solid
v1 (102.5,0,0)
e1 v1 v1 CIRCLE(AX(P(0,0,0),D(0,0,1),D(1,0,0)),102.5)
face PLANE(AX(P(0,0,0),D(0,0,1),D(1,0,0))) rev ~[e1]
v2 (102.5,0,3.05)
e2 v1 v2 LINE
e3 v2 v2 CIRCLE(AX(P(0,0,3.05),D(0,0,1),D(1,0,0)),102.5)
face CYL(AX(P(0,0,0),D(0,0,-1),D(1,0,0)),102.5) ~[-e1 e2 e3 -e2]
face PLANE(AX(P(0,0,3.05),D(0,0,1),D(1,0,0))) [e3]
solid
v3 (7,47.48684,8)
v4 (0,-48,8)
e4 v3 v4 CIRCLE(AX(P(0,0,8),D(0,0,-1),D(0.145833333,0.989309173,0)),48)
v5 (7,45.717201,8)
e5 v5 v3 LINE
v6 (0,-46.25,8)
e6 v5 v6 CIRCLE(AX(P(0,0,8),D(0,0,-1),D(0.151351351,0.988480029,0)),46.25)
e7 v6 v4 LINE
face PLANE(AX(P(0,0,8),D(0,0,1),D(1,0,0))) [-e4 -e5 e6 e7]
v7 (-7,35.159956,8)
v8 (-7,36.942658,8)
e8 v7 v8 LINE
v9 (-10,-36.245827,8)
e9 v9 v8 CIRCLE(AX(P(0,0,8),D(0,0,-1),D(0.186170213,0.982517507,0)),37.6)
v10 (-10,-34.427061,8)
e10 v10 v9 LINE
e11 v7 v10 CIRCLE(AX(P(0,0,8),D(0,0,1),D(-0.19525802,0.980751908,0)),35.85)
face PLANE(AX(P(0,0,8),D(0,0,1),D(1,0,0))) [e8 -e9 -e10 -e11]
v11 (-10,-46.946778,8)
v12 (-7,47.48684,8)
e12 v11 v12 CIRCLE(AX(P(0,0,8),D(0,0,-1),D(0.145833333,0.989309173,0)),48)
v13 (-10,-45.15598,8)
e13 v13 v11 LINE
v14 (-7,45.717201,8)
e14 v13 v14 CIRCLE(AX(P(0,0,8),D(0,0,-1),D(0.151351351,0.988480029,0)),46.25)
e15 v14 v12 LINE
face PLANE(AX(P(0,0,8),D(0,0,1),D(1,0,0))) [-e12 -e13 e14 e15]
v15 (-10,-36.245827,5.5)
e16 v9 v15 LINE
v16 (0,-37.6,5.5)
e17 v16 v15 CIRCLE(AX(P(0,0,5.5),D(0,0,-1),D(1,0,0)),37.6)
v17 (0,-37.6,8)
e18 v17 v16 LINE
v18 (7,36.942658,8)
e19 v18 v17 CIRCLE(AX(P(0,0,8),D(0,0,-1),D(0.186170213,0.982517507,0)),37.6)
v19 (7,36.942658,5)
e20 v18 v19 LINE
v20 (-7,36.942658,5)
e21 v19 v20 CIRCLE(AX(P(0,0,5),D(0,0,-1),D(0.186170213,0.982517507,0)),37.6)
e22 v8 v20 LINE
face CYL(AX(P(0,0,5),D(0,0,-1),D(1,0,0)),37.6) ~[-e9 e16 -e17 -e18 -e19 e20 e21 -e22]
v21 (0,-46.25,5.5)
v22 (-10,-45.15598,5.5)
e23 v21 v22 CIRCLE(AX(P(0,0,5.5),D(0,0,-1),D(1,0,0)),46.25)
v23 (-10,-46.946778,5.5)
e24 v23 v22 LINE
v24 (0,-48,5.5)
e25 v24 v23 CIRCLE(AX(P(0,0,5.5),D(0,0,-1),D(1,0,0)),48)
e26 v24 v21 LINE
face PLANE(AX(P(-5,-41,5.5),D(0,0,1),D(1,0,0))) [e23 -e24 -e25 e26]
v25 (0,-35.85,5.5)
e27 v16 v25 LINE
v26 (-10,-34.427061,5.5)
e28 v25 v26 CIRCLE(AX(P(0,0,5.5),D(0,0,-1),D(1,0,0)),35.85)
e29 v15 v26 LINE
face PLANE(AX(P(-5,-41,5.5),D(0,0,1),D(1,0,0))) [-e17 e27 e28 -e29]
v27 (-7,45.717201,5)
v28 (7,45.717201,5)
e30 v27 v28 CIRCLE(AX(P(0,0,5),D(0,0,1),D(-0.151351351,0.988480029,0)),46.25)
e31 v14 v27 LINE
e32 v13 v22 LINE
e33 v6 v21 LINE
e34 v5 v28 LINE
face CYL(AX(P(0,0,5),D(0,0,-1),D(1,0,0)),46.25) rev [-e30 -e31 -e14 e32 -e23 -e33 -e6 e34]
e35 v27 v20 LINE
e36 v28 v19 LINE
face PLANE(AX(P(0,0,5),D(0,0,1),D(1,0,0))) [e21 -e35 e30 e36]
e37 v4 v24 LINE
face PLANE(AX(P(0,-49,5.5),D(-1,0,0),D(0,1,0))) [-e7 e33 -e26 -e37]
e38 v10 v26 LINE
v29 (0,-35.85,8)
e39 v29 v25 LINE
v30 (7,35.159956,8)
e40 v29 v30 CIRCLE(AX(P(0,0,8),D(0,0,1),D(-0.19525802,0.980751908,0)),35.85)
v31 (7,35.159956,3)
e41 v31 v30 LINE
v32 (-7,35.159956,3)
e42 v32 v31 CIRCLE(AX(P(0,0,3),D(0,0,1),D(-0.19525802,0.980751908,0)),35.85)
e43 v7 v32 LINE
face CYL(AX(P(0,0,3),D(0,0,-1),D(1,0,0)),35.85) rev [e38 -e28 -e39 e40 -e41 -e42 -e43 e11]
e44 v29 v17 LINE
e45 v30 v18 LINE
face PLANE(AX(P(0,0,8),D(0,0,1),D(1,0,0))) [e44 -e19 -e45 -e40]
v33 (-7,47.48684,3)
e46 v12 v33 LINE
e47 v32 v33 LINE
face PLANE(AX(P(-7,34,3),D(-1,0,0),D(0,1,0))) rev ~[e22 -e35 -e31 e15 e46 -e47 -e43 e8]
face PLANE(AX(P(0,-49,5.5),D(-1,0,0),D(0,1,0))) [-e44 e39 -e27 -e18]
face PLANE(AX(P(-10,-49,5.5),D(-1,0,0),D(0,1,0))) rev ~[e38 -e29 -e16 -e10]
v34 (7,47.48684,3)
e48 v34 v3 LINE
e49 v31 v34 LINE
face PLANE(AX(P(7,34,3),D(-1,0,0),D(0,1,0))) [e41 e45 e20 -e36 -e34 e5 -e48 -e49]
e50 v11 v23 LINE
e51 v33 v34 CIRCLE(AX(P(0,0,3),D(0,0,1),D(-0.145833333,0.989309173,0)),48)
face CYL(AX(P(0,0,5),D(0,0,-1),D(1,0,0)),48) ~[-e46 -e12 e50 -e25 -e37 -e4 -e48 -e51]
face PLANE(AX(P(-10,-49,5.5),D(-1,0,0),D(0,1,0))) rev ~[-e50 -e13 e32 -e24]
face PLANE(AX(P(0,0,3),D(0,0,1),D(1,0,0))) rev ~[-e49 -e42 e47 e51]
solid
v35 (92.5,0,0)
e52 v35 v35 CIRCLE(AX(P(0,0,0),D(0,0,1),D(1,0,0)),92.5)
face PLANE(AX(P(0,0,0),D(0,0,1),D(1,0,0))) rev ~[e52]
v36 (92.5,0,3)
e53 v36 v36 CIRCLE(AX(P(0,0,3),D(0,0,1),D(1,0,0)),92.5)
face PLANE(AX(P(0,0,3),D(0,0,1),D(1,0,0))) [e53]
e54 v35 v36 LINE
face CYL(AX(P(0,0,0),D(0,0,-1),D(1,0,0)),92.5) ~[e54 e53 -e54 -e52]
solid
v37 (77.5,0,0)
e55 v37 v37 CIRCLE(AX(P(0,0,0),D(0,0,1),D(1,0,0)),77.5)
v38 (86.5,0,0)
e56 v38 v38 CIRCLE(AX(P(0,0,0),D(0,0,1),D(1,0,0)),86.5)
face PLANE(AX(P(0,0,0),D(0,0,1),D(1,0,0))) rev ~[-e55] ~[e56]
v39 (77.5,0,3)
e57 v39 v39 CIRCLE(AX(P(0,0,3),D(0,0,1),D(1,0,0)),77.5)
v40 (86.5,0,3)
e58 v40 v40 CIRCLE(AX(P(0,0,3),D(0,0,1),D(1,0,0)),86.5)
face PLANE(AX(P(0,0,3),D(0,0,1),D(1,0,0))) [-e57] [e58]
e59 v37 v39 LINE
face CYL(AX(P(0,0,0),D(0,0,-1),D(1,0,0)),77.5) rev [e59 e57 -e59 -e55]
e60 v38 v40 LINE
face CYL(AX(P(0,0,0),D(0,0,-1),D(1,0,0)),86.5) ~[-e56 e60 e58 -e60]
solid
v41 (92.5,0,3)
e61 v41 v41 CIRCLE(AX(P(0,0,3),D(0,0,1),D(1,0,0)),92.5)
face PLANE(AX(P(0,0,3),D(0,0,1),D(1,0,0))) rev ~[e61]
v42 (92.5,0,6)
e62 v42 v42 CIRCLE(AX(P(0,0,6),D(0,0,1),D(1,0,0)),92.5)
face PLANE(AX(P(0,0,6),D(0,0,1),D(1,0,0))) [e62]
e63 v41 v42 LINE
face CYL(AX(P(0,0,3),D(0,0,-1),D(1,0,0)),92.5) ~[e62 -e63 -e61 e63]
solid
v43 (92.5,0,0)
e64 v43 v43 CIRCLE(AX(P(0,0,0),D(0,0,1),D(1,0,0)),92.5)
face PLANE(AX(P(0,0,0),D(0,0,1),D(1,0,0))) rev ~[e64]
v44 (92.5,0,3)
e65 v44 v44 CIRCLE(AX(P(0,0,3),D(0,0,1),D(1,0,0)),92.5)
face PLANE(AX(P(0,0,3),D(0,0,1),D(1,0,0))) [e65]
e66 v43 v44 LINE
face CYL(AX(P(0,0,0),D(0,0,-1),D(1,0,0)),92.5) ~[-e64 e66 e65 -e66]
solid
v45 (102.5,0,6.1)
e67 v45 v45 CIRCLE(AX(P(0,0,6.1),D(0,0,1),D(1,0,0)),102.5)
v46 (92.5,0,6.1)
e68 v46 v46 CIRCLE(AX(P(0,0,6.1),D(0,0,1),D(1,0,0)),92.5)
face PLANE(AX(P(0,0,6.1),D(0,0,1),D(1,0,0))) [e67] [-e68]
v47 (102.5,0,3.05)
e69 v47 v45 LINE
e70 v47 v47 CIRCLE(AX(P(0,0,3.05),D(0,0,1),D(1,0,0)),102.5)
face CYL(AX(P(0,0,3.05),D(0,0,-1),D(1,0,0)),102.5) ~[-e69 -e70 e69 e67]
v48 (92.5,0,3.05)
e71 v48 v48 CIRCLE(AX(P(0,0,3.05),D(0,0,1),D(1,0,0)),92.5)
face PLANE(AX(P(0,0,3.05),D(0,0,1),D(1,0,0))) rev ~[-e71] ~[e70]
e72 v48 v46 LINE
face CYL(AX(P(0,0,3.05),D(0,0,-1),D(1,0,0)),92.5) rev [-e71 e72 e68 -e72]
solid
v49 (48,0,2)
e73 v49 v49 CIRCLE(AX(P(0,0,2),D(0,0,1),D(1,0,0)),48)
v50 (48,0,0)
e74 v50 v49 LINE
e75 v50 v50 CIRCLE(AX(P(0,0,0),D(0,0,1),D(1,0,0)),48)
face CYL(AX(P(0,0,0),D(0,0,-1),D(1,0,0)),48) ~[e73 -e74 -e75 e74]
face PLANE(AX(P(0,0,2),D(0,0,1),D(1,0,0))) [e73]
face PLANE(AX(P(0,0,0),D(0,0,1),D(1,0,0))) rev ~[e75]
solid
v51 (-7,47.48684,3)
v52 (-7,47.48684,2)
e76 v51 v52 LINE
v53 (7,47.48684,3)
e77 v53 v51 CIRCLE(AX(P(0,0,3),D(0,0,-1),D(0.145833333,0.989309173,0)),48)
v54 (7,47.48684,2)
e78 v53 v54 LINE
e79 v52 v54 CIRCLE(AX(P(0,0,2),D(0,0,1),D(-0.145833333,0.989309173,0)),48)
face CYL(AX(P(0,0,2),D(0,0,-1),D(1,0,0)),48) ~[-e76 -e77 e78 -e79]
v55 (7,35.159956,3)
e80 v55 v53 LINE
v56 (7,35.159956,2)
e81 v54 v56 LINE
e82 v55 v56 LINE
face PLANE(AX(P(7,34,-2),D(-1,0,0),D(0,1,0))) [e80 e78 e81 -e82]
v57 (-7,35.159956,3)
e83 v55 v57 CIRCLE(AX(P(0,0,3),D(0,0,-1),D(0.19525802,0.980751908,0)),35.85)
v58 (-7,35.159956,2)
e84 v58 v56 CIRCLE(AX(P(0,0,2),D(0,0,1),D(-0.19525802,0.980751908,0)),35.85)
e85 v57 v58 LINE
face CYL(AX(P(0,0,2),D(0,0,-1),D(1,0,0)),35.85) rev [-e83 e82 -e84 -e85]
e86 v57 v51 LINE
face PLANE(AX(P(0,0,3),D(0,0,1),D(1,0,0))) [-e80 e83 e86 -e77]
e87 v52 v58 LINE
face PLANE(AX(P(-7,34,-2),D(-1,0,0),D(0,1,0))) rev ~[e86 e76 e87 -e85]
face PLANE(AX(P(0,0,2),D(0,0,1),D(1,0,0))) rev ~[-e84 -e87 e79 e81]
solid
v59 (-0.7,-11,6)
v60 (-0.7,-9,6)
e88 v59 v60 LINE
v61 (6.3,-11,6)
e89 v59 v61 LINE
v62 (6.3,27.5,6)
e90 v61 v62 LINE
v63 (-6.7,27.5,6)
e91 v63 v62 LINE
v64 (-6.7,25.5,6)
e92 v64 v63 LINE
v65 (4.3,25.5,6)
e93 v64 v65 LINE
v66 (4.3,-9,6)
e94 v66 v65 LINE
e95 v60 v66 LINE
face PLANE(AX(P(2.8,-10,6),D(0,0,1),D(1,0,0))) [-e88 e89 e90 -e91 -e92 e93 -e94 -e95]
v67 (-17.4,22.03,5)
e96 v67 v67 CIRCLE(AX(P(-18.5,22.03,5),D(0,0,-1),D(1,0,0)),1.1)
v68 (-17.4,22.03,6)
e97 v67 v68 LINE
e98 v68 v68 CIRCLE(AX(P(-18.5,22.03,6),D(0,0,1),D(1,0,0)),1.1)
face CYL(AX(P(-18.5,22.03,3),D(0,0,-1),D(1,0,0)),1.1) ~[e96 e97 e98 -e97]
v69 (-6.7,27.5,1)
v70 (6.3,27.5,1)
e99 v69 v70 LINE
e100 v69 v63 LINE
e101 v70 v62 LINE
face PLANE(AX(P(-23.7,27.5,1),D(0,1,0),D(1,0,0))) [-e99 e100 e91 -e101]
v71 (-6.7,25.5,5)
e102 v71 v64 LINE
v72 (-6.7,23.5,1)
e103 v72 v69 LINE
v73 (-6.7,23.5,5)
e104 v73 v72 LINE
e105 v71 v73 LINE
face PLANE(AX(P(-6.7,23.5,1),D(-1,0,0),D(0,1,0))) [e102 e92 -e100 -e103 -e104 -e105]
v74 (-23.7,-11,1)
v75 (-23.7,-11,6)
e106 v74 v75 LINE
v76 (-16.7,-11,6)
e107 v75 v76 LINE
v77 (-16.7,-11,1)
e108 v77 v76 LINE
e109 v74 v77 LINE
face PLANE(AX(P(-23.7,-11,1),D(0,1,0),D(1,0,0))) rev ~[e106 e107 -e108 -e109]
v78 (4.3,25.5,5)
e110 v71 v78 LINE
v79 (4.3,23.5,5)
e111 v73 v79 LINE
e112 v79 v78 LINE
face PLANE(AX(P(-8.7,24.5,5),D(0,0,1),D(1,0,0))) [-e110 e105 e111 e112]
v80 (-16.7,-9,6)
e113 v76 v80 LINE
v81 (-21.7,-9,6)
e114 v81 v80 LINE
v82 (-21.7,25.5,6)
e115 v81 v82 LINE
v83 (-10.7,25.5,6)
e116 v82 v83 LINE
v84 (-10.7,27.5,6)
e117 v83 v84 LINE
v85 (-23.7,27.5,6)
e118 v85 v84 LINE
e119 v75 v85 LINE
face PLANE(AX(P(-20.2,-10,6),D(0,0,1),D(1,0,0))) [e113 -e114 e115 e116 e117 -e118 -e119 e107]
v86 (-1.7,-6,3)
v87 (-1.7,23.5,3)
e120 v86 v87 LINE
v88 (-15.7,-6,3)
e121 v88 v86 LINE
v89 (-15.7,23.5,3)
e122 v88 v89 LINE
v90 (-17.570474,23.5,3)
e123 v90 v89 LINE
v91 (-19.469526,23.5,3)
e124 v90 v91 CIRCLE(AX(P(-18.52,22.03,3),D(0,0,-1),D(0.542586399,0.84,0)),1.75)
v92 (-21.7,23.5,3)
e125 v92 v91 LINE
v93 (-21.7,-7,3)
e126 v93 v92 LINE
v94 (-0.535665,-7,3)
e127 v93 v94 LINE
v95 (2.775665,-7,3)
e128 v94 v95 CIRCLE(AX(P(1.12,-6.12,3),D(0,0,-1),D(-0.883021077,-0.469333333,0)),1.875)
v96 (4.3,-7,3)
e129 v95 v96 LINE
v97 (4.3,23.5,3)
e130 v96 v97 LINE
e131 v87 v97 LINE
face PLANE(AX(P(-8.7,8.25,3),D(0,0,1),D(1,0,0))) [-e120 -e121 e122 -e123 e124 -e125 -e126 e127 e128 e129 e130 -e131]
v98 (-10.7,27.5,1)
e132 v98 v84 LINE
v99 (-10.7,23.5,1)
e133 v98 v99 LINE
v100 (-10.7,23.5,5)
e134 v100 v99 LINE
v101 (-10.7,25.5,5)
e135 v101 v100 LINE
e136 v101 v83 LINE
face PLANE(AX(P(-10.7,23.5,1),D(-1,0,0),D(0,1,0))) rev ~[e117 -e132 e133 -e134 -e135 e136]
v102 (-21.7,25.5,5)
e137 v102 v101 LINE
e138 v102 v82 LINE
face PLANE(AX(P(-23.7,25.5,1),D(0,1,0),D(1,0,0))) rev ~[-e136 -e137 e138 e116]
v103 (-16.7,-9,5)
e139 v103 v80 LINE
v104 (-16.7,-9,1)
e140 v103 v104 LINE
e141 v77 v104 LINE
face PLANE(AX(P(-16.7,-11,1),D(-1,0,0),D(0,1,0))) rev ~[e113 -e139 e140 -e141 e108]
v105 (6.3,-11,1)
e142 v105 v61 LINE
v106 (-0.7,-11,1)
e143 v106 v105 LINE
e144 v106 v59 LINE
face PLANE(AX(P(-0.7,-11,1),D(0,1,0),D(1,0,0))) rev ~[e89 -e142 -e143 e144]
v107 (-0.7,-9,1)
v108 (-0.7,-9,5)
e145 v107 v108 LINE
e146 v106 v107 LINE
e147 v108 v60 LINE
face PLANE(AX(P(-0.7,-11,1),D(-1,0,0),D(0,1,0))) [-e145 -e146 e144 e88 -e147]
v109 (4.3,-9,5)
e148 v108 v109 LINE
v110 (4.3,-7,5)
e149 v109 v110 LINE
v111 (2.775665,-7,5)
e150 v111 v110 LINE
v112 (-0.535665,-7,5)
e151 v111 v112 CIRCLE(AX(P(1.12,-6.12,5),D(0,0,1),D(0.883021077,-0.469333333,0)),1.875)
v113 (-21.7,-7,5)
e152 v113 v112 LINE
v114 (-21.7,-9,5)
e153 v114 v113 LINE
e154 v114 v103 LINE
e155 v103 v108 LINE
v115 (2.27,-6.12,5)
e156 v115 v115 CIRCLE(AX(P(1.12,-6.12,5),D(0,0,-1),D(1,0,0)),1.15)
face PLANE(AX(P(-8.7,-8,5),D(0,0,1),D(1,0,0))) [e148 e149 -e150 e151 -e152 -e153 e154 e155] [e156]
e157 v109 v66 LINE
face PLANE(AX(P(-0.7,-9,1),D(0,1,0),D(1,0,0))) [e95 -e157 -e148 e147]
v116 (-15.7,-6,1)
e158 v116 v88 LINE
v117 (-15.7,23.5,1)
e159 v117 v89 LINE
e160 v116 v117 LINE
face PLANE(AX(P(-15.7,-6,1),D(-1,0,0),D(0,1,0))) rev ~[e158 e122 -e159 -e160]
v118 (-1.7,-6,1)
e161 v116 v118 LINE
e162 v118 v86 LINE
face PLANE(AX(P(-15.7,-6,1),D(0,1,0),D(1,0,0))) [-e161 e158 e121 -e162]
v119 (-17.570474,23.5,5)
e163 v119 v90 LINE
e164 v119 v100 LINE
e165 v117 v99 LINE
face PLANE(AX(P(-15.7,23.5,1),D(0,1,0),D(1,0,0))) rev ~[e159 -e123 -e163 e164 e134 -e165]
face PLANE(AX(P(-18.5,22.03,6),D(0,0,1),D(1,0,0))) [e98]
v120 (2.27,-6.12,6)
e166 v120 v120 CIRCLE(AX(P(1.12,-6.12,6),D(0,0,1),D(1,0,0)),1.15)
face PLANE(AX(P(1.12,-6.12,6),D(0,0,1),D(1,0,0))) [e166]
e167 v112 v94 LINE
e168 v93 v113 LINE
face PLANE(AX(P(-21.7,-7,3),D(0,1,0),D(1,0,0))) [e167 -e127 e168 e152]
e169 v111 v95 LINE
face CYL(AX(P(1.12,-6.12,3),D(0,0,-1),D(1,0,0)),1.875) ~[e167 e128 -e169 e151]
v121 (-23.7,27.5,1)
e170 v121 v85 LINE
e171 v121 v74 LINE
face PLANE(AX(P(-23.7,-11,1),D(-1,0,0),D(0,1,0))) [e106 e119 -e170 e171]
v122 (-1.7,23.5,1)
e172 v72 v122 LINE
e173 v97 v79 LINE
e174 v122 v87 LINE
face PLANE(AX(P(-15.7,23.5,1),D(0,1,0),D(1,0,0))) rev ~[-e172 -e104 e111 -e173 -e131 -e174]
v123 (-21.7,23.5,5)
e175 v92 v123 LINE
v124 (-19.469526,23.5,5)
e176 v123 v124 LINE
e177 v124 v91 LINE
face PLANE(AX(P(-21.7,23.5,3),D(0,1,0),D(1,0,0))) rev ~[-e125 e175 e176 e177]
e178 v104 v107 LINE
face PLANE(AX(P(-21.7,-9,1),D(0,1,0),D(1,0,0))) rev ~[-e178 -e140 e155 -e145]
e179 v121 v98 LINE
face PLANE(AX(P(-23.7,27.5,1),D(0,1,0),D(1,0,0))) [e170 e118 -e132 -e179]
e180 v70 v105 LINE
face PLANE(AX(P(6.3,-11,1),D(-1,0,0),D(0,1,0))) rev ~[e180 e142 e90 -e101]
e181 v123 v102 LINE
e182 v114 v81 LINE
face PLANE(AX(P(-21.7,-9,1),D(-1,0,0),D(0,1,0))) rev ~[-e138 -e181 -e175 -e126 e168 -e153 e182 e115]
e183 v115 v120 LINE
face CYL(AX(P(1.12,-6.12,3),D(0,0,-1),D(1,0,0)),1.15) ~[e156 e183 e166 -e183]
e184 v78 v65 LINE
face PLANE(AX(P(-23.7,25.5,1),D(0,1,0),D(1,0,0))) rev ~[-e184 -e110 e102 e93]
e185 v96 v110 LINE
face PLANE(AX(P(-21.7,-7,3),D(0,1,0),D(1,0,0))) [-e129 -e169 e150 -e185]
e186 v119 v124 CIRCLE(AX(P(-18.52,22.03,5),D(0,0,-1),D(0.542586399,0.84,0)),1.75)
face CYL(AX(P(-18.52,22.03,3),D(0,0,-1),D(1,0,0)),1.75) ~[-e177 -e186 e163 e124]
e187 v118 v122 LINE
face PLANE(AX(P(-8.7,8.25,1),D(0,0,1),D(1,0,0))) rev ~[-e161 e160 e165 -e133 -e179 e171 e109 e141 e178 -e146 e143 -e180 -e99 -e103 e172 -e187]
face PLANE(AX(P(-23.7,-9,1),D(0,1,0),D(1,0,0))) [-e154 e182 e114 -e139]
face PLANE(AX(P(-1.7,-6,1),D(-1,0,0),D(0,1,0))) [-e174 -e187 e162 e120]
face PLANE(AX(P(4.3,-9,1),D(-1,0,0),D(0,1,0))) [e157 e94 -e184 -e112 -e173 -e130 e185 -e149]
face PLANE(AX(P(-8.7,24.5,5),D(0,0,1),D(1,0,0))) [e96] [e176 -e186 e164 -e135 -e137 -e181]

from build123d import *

# Parameters (mm, degrees)
CYLINDER_R        = 92.5
CYLINDER_DEPTH    = 3
CYLINDER002_R     = 92.5
CYLINDER002_DEPTH = 3.05
CYLINDER001_R     = 102.5
CYLINDER001_DEPTH = 3.05
CYLINDER003_R     = 102.5
CYLINDER003_DEPTH = 3.05
CYLINDER004_R     = 92.5
CYLINDER004_DEPTH = 3
CYLINDER005_R     = 92.5
CYLINDER005_DEPTH = 3
CYLINDER006_R     = 77.5
CYLINDER006_DEPTH = 3
CYLINDER007_R     = 86.5
CYLINDER007_DEPTH = 3
CYLINDER014_R     = 1.1
CYLINDER014_DEPTH = 3
CYLINDER015_R     = 1.15
CYLINDER015_DEPTH = 3
CYLINDER016_R     = 1.75
CYLINDER016_DEPTH = 2
CYLINDER017_R     = 1.875
CYLINDER017_DEPTH = 2
BOX004_W          = 26
BOX004_H          = 2
BOX004_DEPTH      = 2
BOX006_W          = 2
BOX006_H          = 34.5
BOX006_DEPTH      = 5
BOX007_W          = 2
BOX007_H          = 34.5
BOX007_DEPTH      = 5
BOX009_W          = 7
BOX009_H          = 2
BOX009_DEPTH      = 5
BOX010_W          = 7
BOX010_H          = 2
BOX010_DEPTH      = 5
BOX011_W          = 4
BOX011_H          = 4
BOX011_DEPTH      = 5
BOX005_W          = 26
BOX005_H          = 2
BOX005_DEPTH      = 2
BOX003_W          = 14
BOX003_H          = 29.5
BOX003_DEPTH      = 2
BOX002_W          = 26
BOX002_H          = 34.5
BOX002_DEPTH      = 2
BOX008_W          = 30
BOX008_H          = 2
BOX008_DEPTH      = 5
CYLINDER018_R     = 48
CYLINDER018_DEPTH = 2
BOX001_W          = 14
BOX001_H          = 15
BOX001_DEPTH      = 5
CYLINDER019_R     = 35.85
CYLINDER019_DEPTH = 1
CYLINDER020_R     = 48
CYLINDER020_DEPTH = 1
BOX012_W          = 10
BOX012_H          = 16
BOX012_DEPTH      = 3
BOX_W             = 14
BOX_H             = 15
BOX_DEPTH         = 5
CYLINDER009_R     = 37.6
CYLINDER009_DEPTH = 3
CYLINDER008_R     = 46.25
CYLINDER008_DEPTH = 3
CYLINDER011_R     = 35.85
CYLINDER011_DEPTH = 3
CYLINDER010_R     = 48
CYLINDER010_DEPTH = 3
CYLINDER013_R     = 35.85
CYLINDER013_DEPTH = 2
CYLINDER012_R     = 48
CYLINDER012_DEPTH = 2


with BuildPart() as astronaut:
    # Cylinder → Cylinder (new body)
    with BuildSketch(Plane.XY):
        Circle(CYLINDER_R)
    extrude(amount=CYLINDER_DEPTH)


with BuildPart() as cylinder002:
    # Cylinder002 → Cylinder002 (new body)
    with BuildSketch(Plane.XY):
        Circle(CYLINDER002_R)
    extrude(amount=CYLINDER002_DEPTH)


with BuildPart() as standoff_base:
    # Cylinder001 → Cylinder001 (new body)
    with BuildSketch(Plane.XY):
        Circle(CYLINDER001_R)
    extrude(amount=CYLINDER001_DEPTH)

    # Cut: cut Cylinder002
    add(cylinder002.part, mode=Mode.SUBTRACT)


with BuildPart() as standoff_base_1:
    # Cut placement: moved
    add(standoff_base.part.moved(Location((0, 0, 3.05))))


with BuildPart() as backplate_base:
    # Cylinder003 → Cylinder003 (new body)
    with BuildSketch(Plane.XY):
        Circle(CYLINDER003_R)
    extrude(amount=CYLINDER003_DEPTH)


with BuildPart() as cylinder004:
    # Cylinder004 → Cylinder004 (new body)
    with BuildSketch(Plane.XY):
        Circle(CYLINDER004_R)
    extrude(amount=CYLINDER004_DEPTH)


with BuildPart() as cylinder005:
    # Cylinder005 → Cylinder005 (new body)
    with BuildSketch(Plane.XY.offset(3)):
        Circle(CYLINDER005_R)
    extrude(amount=CYLINDER005_DEPTH)


with BuildPart() as cylinder006:
    # Cylinder006 → Cylinder006 (new body)
    with BuildSketch(Plane.XY):
        Circle(CYLINDER006_R)
    extrude(amount=CYLINDER006_DEPTH)


with BuildPart() as large_led_ring:
    # Cylinder007 → Cylinder007 (new body)
    with BuildSketch(Plane.XY):
        Circle(CYLINDER007_R)
    extrude(amount=CYLINDER007_DEPTH)

    # Cut001: cut Cylinder006
    add(cylinder006.part, mode=Mode.SUBTRACT)


with BuildPart() as cylinder014:
    # Cylinder014 → Cylinder014 (new body)
    with BuildSketch(Plane(origin=(3.2, 31.03, 2), x_dir=(1, 0, 0), z_dir=(0, 0, 1))):
        Circle(CYLINDER014_R)
    extrude(amount=CYLINDER014_DEPTH)


with BuildPart() as cylinder015:
    # Cylinder015 → Cylinder015 (new body)
    with BuildSketch(Plane(origin=(22.82, 2.88, 2), x_dir=(1, 0, 0), z_dir=(0, 0, 1))):
        Circle(CYLINDER015_R)
    extrude(amount=CYLINDER015_DEPTH)


with BuildPart() as cylinder016:
    # Cylinder016 → Cylinder016 (new body)
    with BuildSketch(Plane(origin=(3.18, 31.03, 2), x_dir=(1, 0, 0), z_dir=(0, 0, 1))):
        Circle(CYLINDER016_R)
    extrude(amount=CYLINDER016_DEPTH)


with BuildPart() as cylinder017:
    # Cylinder017 → Cylinder017 (new body)
    with BuildSketch(Plane(origin=(22.82, 2.88, 2), x_dir=(1, 0, 0), z_dir=(0, 0, 1))):
        Circle(CYLINDER017_R)
    extrude(amount=CYLINDER017_DEPTH)


with BuildPart() as cube004:
    # Box004 → Box004 (new body)
    with BuildSketch(Plane.XY.offset(2)):
        with Locations((13, 1)):
            Rectangle(BOX004_W, BOX004_H)
    extrude(amount=BOX004_DEPTH)


with BuildPart() as cube006:
    # Box006 → Box006 (new body)
    with BuildSketch(Plane(origin=(-2, 0, 0), x_dir=(1, 0, 0), z_dir=(0, 0, 1))):
        with Locations((1, 17.25)):
            Rectangle(BOX006_W, BOX006_H)
    extrude(amount=BOX006_DEPTH)


with BuildPart() as cube007:
    # Box007 → Box007 (new body)
    with BuildSketch(Plane(origin=(26, 0, 0), x_dir=(1, 0, 0), z_dir=(0, 0, 1))):
        with Locations((1, 17.25)):
            Rectangle(BOX007_W, BOX007_H)
    extrude(amount=BOX007_DEPTH)


with BuildPart() as cube009:
    # Box009 → Box009 (new body)
    with BuildSketch(Plane(origin=(-2, -2, 0), x_dir=(1, 0, 0), z_dir=(0, 0, 1))):
        with Locations((3.5, 1)):
            Rectangle(BOX009_W, BOX009_H)
    extrude(amount=BOX009_DEPTH)


with BuildPart() as cube010:
    # Box010 → Box010 (new body)
    with BuildSketch(Plane(origin=(21, -2, 0), x_dir=(1, 0, 0), z_dir=(0, 0, 1))):
        with Locations((3.5, 1)):
            Rectangle(BOX010_W, BOX010_H)
    extrude(amount=BOX010_DEPTH)


with BuildPart() as removal_hole:
    # Box011 → Box011 (new body)
    with BuildSketch(Plane(origin=(11, 32.5, 0), x_dir=(1, 0, 0), z_dir=(0, 0, 1))):
        with Locations((2, 2)):
            Rectangle(BOX011_W, BOX011_H)
    extrude(amount=BOX011_DEPTH)


with BuildPart() as cut009:
    # Box005 → Box005 (new body)
    with BuildSketch(Plane(origin=(0, 32.5, 2), x_dir=(1, 0, 0), z_dir=(0, 0, 1))):
        with Locations((13, 1)):
            Rectangle(BOX005_W, BOX005_H)
    extrude(amount=BOX005_DEPTH)

    # Cut009: cut Removal hole
    add(removal_hole.part, mode=Mode.SUBTRACT)


with BuildPart() as cube003:
    # Box003 → Box003 (new body)
    with BuildSketch(Plane(origin=(6, 3, 0), x_dir=(1, 0, 0), z_dir=(0, 0, 1))):
        with Locations((7, 14.75)):
            Rectangle(BOX003_W, BOX003_H)
    extrude(amount=BOX003_DEPTH)


with BuildPart() as cut010:
    # Box002 → Box002 (new body)
    with BuildSketch(Plane.XY):
        with Locations((13, 17.25)):
            Rectangle(BOX002_W, BOX002_H)
    extrude(amount=BOX002_DEPTH)

    # Cut008: cut Cube003
    add(cube003.part, mode=Mode.SUBTRACT)

    # Cut010: cut Removal hole
    add(removal_hole.part, mode=Mode.SUBTRACT)


with BuildPart() as d1_stand_with_backing:
    # Box008 → Box008 (new body)
    with BuildSketch(Plane(origin=(-2, 34.5, 0), x_dir=(1, 0, 0), z_dir=(0, 0, 1))):
        with Locations((15, 1)):
            Rectangle(BOX008_W, BOX008_H)
    extrude(amount=BOX008_DEPTH)

    # Cut011: cut Removal hole
    add(removal_hole.part, mode=Mode.SUBTRACT)

    # Fusion001: union Cylinder014, Cylinder015, Cylinder016, Cylinder017, Cube004, Cube006, Cube007, Cube009, Cube010, Cut009, Cut010
    add(cylinder014.part)
    add(cylinder015.part)
    add(cylinder016.part)
    add(cylinder017.part)
    add(cube004.part)
    add(cube006.part)
    add(cube007.part)
    add(cube009.part)
    add(cube010.part)
    add(cut009.part)
    add(cut010.part)


with BuildPart() as d1_stand_with_backing_1:
    # Fusion001 placement: moved
    add(d1_stand_with_backing.part.moved(Location((-21.7, -9, 1))))


with BuildPart() as cylinder018:
    # Cylinder018 → Cylinder018 (new body)
    with BuildSketch(Plane.XY):
        Circle(CYLINDER018_R)
    extrude(amount=CYLINDER018_DEPTH)


with BuildPart() as cube001:
    # Box001 → Box001 (new body)
    with BuildSketch(Plane(origin=(-7, 34, -2), x_dir=(1, 0, 0), z_dir=(0, 0, 1))):
        with Locations((7, 7.5)):
            Rectangle(BOX001_W, BOX001_H)
    extrude(amount=BOX001_DEPTH)


with BuildPart() as cylinder019:
    # Cylinder019 → Cylinder019 (new body)
    with BuildSketch(Plane.XY.offset(2)):
        Circle(CYLINDER019_R)
    extrude(amount=CYLINDER019_DEPTH)


with BuildPart() as cut013:
    # Cylinder020 → Cylinder020 (new body)
    with BuildSketch(Plane.XY.offset(2)):
        Circle(CYLINDER020_R)
    extrude(amount=CYLINDER020_DEPTH)

    # Cut012: cut Cylinder019
    add(cylinder019.part, mode=Mode.SUBTRACT)

    # Cut013: cut Cube001
    add(cube001.part, mode=Mode.SUBTRACT)


with BuildPart() as cube011:
    # Box012 → Box012 (new body)
    with BuildSketch(Plane(origin=(-10, -49, 5.5), x_dir=(1, 0, 0), z_dir=(0, 0, 1))):
        with Locations((5, 8)):
            Rectangle(BOX012_W, BOX012_H)
    extrude(amount=BOX012_DEPTH)


with BuildPart() as cube:
    # Box → Box (new body)
    with BuildSketch(Plane(origin=(-7, 34, -2), x_dir=(1, 0, 0), z_dir=(0, 0, 1))):
        with Locations((7, 7.5)):
            Rectangle(BOX_W, BOX_H)
    extrude(amount=BOX_DEPTH)


with BuildPart() as cylinder009:
    # Cylinder009 → Cylinder009 (new body)
    with BuildSketch(Plane.XY):
        Circle(CYLINDER009_R)
    extrude(amount=CYLINDER009_DEPTH)


with BuildPart() as small_led_ring:
    # Cylinder008 → Cylinder008 (new body)
    with BuildSketch(Plane.XY):
        Circle(CYLINDER008_R)
    extrude(amount=CYLINDER008_DEPTH)

    # Cut002: cut Cylinder009
    add(cylinder009.part, mode=Mode.SUBTRACT)


with BuildPart() as cylinder011:
    # Cylinder011 → Cylinder011 (new body)
    with BuildSketch(Plane.XY):
        Circle(CYLINDER011_R)
    extrude(amount=CYLINDER011_DEPTH)


with BuildPart() as cut005:
    # Cylinder010 → Cylinder010 (new body)
    with BuildSketch(Plane.XY):
        Circle(CYLINDER010_R)
    extrude(amount=CYLINDER010_DEPTH)

    # Cut003: cut Cylinder011
    add(cylinder011.part, mode=Mode.SUBTRACT)

    # Cut004: cut Small LED Ring
    add(small_led_ring.part, mode=Mode.SUBTRACT)

    # Cut005: cut Cube
    add(cube.part, mode=Mode.SUBTRACT)


with BuildPart() as cylinder013:
    # Cylinder013 → Cylinder013 (new body)
    with BuildSketch(Plane.XY.offset(-2)):
        Circle(CYLINDER013_R)
    extrude(amount=CYLINDER013_DEPTH)


with BuildPart() as small_ring_track_with_usb_cut:
    # Cylinder012 → Cylinder012 (new body)
    with BuildSketch(Plane.XY.offset(-2)):
        Circle(CYLINDER012_R)
    extrude(amount=CYLINDER012_DEPTH)

    # Cut006: cut Cylinder013
    add(cylinder013.part, mode=Mode.SUBTRACT)

    # Cut007: cut Cube001
    add(cube001.part, mode=Mode.SUBTRACT)

    # Fusion: union Cut005
    add(cut005.part)


with BuildPart() as small_ring_track_with_usb_cut_1:
    # Fusion placement: moved
    add(small_ring_track_with_usb_cut.part.moved(Location((0, 0, 5))))

    # Cut014: cut Cube011
    add(cube011.part, mode=Mode.SUBTRACT)


solid = Compound([astronaut.part, standoff_base_1.part, backplate_base.part, cylinder004.part, cylinder005.part, large_led_ring.part, d1_stand_with_backing_1.part, cylinder018.part, cut013.part, small_ring_track_with_usb_cut_1.part])
